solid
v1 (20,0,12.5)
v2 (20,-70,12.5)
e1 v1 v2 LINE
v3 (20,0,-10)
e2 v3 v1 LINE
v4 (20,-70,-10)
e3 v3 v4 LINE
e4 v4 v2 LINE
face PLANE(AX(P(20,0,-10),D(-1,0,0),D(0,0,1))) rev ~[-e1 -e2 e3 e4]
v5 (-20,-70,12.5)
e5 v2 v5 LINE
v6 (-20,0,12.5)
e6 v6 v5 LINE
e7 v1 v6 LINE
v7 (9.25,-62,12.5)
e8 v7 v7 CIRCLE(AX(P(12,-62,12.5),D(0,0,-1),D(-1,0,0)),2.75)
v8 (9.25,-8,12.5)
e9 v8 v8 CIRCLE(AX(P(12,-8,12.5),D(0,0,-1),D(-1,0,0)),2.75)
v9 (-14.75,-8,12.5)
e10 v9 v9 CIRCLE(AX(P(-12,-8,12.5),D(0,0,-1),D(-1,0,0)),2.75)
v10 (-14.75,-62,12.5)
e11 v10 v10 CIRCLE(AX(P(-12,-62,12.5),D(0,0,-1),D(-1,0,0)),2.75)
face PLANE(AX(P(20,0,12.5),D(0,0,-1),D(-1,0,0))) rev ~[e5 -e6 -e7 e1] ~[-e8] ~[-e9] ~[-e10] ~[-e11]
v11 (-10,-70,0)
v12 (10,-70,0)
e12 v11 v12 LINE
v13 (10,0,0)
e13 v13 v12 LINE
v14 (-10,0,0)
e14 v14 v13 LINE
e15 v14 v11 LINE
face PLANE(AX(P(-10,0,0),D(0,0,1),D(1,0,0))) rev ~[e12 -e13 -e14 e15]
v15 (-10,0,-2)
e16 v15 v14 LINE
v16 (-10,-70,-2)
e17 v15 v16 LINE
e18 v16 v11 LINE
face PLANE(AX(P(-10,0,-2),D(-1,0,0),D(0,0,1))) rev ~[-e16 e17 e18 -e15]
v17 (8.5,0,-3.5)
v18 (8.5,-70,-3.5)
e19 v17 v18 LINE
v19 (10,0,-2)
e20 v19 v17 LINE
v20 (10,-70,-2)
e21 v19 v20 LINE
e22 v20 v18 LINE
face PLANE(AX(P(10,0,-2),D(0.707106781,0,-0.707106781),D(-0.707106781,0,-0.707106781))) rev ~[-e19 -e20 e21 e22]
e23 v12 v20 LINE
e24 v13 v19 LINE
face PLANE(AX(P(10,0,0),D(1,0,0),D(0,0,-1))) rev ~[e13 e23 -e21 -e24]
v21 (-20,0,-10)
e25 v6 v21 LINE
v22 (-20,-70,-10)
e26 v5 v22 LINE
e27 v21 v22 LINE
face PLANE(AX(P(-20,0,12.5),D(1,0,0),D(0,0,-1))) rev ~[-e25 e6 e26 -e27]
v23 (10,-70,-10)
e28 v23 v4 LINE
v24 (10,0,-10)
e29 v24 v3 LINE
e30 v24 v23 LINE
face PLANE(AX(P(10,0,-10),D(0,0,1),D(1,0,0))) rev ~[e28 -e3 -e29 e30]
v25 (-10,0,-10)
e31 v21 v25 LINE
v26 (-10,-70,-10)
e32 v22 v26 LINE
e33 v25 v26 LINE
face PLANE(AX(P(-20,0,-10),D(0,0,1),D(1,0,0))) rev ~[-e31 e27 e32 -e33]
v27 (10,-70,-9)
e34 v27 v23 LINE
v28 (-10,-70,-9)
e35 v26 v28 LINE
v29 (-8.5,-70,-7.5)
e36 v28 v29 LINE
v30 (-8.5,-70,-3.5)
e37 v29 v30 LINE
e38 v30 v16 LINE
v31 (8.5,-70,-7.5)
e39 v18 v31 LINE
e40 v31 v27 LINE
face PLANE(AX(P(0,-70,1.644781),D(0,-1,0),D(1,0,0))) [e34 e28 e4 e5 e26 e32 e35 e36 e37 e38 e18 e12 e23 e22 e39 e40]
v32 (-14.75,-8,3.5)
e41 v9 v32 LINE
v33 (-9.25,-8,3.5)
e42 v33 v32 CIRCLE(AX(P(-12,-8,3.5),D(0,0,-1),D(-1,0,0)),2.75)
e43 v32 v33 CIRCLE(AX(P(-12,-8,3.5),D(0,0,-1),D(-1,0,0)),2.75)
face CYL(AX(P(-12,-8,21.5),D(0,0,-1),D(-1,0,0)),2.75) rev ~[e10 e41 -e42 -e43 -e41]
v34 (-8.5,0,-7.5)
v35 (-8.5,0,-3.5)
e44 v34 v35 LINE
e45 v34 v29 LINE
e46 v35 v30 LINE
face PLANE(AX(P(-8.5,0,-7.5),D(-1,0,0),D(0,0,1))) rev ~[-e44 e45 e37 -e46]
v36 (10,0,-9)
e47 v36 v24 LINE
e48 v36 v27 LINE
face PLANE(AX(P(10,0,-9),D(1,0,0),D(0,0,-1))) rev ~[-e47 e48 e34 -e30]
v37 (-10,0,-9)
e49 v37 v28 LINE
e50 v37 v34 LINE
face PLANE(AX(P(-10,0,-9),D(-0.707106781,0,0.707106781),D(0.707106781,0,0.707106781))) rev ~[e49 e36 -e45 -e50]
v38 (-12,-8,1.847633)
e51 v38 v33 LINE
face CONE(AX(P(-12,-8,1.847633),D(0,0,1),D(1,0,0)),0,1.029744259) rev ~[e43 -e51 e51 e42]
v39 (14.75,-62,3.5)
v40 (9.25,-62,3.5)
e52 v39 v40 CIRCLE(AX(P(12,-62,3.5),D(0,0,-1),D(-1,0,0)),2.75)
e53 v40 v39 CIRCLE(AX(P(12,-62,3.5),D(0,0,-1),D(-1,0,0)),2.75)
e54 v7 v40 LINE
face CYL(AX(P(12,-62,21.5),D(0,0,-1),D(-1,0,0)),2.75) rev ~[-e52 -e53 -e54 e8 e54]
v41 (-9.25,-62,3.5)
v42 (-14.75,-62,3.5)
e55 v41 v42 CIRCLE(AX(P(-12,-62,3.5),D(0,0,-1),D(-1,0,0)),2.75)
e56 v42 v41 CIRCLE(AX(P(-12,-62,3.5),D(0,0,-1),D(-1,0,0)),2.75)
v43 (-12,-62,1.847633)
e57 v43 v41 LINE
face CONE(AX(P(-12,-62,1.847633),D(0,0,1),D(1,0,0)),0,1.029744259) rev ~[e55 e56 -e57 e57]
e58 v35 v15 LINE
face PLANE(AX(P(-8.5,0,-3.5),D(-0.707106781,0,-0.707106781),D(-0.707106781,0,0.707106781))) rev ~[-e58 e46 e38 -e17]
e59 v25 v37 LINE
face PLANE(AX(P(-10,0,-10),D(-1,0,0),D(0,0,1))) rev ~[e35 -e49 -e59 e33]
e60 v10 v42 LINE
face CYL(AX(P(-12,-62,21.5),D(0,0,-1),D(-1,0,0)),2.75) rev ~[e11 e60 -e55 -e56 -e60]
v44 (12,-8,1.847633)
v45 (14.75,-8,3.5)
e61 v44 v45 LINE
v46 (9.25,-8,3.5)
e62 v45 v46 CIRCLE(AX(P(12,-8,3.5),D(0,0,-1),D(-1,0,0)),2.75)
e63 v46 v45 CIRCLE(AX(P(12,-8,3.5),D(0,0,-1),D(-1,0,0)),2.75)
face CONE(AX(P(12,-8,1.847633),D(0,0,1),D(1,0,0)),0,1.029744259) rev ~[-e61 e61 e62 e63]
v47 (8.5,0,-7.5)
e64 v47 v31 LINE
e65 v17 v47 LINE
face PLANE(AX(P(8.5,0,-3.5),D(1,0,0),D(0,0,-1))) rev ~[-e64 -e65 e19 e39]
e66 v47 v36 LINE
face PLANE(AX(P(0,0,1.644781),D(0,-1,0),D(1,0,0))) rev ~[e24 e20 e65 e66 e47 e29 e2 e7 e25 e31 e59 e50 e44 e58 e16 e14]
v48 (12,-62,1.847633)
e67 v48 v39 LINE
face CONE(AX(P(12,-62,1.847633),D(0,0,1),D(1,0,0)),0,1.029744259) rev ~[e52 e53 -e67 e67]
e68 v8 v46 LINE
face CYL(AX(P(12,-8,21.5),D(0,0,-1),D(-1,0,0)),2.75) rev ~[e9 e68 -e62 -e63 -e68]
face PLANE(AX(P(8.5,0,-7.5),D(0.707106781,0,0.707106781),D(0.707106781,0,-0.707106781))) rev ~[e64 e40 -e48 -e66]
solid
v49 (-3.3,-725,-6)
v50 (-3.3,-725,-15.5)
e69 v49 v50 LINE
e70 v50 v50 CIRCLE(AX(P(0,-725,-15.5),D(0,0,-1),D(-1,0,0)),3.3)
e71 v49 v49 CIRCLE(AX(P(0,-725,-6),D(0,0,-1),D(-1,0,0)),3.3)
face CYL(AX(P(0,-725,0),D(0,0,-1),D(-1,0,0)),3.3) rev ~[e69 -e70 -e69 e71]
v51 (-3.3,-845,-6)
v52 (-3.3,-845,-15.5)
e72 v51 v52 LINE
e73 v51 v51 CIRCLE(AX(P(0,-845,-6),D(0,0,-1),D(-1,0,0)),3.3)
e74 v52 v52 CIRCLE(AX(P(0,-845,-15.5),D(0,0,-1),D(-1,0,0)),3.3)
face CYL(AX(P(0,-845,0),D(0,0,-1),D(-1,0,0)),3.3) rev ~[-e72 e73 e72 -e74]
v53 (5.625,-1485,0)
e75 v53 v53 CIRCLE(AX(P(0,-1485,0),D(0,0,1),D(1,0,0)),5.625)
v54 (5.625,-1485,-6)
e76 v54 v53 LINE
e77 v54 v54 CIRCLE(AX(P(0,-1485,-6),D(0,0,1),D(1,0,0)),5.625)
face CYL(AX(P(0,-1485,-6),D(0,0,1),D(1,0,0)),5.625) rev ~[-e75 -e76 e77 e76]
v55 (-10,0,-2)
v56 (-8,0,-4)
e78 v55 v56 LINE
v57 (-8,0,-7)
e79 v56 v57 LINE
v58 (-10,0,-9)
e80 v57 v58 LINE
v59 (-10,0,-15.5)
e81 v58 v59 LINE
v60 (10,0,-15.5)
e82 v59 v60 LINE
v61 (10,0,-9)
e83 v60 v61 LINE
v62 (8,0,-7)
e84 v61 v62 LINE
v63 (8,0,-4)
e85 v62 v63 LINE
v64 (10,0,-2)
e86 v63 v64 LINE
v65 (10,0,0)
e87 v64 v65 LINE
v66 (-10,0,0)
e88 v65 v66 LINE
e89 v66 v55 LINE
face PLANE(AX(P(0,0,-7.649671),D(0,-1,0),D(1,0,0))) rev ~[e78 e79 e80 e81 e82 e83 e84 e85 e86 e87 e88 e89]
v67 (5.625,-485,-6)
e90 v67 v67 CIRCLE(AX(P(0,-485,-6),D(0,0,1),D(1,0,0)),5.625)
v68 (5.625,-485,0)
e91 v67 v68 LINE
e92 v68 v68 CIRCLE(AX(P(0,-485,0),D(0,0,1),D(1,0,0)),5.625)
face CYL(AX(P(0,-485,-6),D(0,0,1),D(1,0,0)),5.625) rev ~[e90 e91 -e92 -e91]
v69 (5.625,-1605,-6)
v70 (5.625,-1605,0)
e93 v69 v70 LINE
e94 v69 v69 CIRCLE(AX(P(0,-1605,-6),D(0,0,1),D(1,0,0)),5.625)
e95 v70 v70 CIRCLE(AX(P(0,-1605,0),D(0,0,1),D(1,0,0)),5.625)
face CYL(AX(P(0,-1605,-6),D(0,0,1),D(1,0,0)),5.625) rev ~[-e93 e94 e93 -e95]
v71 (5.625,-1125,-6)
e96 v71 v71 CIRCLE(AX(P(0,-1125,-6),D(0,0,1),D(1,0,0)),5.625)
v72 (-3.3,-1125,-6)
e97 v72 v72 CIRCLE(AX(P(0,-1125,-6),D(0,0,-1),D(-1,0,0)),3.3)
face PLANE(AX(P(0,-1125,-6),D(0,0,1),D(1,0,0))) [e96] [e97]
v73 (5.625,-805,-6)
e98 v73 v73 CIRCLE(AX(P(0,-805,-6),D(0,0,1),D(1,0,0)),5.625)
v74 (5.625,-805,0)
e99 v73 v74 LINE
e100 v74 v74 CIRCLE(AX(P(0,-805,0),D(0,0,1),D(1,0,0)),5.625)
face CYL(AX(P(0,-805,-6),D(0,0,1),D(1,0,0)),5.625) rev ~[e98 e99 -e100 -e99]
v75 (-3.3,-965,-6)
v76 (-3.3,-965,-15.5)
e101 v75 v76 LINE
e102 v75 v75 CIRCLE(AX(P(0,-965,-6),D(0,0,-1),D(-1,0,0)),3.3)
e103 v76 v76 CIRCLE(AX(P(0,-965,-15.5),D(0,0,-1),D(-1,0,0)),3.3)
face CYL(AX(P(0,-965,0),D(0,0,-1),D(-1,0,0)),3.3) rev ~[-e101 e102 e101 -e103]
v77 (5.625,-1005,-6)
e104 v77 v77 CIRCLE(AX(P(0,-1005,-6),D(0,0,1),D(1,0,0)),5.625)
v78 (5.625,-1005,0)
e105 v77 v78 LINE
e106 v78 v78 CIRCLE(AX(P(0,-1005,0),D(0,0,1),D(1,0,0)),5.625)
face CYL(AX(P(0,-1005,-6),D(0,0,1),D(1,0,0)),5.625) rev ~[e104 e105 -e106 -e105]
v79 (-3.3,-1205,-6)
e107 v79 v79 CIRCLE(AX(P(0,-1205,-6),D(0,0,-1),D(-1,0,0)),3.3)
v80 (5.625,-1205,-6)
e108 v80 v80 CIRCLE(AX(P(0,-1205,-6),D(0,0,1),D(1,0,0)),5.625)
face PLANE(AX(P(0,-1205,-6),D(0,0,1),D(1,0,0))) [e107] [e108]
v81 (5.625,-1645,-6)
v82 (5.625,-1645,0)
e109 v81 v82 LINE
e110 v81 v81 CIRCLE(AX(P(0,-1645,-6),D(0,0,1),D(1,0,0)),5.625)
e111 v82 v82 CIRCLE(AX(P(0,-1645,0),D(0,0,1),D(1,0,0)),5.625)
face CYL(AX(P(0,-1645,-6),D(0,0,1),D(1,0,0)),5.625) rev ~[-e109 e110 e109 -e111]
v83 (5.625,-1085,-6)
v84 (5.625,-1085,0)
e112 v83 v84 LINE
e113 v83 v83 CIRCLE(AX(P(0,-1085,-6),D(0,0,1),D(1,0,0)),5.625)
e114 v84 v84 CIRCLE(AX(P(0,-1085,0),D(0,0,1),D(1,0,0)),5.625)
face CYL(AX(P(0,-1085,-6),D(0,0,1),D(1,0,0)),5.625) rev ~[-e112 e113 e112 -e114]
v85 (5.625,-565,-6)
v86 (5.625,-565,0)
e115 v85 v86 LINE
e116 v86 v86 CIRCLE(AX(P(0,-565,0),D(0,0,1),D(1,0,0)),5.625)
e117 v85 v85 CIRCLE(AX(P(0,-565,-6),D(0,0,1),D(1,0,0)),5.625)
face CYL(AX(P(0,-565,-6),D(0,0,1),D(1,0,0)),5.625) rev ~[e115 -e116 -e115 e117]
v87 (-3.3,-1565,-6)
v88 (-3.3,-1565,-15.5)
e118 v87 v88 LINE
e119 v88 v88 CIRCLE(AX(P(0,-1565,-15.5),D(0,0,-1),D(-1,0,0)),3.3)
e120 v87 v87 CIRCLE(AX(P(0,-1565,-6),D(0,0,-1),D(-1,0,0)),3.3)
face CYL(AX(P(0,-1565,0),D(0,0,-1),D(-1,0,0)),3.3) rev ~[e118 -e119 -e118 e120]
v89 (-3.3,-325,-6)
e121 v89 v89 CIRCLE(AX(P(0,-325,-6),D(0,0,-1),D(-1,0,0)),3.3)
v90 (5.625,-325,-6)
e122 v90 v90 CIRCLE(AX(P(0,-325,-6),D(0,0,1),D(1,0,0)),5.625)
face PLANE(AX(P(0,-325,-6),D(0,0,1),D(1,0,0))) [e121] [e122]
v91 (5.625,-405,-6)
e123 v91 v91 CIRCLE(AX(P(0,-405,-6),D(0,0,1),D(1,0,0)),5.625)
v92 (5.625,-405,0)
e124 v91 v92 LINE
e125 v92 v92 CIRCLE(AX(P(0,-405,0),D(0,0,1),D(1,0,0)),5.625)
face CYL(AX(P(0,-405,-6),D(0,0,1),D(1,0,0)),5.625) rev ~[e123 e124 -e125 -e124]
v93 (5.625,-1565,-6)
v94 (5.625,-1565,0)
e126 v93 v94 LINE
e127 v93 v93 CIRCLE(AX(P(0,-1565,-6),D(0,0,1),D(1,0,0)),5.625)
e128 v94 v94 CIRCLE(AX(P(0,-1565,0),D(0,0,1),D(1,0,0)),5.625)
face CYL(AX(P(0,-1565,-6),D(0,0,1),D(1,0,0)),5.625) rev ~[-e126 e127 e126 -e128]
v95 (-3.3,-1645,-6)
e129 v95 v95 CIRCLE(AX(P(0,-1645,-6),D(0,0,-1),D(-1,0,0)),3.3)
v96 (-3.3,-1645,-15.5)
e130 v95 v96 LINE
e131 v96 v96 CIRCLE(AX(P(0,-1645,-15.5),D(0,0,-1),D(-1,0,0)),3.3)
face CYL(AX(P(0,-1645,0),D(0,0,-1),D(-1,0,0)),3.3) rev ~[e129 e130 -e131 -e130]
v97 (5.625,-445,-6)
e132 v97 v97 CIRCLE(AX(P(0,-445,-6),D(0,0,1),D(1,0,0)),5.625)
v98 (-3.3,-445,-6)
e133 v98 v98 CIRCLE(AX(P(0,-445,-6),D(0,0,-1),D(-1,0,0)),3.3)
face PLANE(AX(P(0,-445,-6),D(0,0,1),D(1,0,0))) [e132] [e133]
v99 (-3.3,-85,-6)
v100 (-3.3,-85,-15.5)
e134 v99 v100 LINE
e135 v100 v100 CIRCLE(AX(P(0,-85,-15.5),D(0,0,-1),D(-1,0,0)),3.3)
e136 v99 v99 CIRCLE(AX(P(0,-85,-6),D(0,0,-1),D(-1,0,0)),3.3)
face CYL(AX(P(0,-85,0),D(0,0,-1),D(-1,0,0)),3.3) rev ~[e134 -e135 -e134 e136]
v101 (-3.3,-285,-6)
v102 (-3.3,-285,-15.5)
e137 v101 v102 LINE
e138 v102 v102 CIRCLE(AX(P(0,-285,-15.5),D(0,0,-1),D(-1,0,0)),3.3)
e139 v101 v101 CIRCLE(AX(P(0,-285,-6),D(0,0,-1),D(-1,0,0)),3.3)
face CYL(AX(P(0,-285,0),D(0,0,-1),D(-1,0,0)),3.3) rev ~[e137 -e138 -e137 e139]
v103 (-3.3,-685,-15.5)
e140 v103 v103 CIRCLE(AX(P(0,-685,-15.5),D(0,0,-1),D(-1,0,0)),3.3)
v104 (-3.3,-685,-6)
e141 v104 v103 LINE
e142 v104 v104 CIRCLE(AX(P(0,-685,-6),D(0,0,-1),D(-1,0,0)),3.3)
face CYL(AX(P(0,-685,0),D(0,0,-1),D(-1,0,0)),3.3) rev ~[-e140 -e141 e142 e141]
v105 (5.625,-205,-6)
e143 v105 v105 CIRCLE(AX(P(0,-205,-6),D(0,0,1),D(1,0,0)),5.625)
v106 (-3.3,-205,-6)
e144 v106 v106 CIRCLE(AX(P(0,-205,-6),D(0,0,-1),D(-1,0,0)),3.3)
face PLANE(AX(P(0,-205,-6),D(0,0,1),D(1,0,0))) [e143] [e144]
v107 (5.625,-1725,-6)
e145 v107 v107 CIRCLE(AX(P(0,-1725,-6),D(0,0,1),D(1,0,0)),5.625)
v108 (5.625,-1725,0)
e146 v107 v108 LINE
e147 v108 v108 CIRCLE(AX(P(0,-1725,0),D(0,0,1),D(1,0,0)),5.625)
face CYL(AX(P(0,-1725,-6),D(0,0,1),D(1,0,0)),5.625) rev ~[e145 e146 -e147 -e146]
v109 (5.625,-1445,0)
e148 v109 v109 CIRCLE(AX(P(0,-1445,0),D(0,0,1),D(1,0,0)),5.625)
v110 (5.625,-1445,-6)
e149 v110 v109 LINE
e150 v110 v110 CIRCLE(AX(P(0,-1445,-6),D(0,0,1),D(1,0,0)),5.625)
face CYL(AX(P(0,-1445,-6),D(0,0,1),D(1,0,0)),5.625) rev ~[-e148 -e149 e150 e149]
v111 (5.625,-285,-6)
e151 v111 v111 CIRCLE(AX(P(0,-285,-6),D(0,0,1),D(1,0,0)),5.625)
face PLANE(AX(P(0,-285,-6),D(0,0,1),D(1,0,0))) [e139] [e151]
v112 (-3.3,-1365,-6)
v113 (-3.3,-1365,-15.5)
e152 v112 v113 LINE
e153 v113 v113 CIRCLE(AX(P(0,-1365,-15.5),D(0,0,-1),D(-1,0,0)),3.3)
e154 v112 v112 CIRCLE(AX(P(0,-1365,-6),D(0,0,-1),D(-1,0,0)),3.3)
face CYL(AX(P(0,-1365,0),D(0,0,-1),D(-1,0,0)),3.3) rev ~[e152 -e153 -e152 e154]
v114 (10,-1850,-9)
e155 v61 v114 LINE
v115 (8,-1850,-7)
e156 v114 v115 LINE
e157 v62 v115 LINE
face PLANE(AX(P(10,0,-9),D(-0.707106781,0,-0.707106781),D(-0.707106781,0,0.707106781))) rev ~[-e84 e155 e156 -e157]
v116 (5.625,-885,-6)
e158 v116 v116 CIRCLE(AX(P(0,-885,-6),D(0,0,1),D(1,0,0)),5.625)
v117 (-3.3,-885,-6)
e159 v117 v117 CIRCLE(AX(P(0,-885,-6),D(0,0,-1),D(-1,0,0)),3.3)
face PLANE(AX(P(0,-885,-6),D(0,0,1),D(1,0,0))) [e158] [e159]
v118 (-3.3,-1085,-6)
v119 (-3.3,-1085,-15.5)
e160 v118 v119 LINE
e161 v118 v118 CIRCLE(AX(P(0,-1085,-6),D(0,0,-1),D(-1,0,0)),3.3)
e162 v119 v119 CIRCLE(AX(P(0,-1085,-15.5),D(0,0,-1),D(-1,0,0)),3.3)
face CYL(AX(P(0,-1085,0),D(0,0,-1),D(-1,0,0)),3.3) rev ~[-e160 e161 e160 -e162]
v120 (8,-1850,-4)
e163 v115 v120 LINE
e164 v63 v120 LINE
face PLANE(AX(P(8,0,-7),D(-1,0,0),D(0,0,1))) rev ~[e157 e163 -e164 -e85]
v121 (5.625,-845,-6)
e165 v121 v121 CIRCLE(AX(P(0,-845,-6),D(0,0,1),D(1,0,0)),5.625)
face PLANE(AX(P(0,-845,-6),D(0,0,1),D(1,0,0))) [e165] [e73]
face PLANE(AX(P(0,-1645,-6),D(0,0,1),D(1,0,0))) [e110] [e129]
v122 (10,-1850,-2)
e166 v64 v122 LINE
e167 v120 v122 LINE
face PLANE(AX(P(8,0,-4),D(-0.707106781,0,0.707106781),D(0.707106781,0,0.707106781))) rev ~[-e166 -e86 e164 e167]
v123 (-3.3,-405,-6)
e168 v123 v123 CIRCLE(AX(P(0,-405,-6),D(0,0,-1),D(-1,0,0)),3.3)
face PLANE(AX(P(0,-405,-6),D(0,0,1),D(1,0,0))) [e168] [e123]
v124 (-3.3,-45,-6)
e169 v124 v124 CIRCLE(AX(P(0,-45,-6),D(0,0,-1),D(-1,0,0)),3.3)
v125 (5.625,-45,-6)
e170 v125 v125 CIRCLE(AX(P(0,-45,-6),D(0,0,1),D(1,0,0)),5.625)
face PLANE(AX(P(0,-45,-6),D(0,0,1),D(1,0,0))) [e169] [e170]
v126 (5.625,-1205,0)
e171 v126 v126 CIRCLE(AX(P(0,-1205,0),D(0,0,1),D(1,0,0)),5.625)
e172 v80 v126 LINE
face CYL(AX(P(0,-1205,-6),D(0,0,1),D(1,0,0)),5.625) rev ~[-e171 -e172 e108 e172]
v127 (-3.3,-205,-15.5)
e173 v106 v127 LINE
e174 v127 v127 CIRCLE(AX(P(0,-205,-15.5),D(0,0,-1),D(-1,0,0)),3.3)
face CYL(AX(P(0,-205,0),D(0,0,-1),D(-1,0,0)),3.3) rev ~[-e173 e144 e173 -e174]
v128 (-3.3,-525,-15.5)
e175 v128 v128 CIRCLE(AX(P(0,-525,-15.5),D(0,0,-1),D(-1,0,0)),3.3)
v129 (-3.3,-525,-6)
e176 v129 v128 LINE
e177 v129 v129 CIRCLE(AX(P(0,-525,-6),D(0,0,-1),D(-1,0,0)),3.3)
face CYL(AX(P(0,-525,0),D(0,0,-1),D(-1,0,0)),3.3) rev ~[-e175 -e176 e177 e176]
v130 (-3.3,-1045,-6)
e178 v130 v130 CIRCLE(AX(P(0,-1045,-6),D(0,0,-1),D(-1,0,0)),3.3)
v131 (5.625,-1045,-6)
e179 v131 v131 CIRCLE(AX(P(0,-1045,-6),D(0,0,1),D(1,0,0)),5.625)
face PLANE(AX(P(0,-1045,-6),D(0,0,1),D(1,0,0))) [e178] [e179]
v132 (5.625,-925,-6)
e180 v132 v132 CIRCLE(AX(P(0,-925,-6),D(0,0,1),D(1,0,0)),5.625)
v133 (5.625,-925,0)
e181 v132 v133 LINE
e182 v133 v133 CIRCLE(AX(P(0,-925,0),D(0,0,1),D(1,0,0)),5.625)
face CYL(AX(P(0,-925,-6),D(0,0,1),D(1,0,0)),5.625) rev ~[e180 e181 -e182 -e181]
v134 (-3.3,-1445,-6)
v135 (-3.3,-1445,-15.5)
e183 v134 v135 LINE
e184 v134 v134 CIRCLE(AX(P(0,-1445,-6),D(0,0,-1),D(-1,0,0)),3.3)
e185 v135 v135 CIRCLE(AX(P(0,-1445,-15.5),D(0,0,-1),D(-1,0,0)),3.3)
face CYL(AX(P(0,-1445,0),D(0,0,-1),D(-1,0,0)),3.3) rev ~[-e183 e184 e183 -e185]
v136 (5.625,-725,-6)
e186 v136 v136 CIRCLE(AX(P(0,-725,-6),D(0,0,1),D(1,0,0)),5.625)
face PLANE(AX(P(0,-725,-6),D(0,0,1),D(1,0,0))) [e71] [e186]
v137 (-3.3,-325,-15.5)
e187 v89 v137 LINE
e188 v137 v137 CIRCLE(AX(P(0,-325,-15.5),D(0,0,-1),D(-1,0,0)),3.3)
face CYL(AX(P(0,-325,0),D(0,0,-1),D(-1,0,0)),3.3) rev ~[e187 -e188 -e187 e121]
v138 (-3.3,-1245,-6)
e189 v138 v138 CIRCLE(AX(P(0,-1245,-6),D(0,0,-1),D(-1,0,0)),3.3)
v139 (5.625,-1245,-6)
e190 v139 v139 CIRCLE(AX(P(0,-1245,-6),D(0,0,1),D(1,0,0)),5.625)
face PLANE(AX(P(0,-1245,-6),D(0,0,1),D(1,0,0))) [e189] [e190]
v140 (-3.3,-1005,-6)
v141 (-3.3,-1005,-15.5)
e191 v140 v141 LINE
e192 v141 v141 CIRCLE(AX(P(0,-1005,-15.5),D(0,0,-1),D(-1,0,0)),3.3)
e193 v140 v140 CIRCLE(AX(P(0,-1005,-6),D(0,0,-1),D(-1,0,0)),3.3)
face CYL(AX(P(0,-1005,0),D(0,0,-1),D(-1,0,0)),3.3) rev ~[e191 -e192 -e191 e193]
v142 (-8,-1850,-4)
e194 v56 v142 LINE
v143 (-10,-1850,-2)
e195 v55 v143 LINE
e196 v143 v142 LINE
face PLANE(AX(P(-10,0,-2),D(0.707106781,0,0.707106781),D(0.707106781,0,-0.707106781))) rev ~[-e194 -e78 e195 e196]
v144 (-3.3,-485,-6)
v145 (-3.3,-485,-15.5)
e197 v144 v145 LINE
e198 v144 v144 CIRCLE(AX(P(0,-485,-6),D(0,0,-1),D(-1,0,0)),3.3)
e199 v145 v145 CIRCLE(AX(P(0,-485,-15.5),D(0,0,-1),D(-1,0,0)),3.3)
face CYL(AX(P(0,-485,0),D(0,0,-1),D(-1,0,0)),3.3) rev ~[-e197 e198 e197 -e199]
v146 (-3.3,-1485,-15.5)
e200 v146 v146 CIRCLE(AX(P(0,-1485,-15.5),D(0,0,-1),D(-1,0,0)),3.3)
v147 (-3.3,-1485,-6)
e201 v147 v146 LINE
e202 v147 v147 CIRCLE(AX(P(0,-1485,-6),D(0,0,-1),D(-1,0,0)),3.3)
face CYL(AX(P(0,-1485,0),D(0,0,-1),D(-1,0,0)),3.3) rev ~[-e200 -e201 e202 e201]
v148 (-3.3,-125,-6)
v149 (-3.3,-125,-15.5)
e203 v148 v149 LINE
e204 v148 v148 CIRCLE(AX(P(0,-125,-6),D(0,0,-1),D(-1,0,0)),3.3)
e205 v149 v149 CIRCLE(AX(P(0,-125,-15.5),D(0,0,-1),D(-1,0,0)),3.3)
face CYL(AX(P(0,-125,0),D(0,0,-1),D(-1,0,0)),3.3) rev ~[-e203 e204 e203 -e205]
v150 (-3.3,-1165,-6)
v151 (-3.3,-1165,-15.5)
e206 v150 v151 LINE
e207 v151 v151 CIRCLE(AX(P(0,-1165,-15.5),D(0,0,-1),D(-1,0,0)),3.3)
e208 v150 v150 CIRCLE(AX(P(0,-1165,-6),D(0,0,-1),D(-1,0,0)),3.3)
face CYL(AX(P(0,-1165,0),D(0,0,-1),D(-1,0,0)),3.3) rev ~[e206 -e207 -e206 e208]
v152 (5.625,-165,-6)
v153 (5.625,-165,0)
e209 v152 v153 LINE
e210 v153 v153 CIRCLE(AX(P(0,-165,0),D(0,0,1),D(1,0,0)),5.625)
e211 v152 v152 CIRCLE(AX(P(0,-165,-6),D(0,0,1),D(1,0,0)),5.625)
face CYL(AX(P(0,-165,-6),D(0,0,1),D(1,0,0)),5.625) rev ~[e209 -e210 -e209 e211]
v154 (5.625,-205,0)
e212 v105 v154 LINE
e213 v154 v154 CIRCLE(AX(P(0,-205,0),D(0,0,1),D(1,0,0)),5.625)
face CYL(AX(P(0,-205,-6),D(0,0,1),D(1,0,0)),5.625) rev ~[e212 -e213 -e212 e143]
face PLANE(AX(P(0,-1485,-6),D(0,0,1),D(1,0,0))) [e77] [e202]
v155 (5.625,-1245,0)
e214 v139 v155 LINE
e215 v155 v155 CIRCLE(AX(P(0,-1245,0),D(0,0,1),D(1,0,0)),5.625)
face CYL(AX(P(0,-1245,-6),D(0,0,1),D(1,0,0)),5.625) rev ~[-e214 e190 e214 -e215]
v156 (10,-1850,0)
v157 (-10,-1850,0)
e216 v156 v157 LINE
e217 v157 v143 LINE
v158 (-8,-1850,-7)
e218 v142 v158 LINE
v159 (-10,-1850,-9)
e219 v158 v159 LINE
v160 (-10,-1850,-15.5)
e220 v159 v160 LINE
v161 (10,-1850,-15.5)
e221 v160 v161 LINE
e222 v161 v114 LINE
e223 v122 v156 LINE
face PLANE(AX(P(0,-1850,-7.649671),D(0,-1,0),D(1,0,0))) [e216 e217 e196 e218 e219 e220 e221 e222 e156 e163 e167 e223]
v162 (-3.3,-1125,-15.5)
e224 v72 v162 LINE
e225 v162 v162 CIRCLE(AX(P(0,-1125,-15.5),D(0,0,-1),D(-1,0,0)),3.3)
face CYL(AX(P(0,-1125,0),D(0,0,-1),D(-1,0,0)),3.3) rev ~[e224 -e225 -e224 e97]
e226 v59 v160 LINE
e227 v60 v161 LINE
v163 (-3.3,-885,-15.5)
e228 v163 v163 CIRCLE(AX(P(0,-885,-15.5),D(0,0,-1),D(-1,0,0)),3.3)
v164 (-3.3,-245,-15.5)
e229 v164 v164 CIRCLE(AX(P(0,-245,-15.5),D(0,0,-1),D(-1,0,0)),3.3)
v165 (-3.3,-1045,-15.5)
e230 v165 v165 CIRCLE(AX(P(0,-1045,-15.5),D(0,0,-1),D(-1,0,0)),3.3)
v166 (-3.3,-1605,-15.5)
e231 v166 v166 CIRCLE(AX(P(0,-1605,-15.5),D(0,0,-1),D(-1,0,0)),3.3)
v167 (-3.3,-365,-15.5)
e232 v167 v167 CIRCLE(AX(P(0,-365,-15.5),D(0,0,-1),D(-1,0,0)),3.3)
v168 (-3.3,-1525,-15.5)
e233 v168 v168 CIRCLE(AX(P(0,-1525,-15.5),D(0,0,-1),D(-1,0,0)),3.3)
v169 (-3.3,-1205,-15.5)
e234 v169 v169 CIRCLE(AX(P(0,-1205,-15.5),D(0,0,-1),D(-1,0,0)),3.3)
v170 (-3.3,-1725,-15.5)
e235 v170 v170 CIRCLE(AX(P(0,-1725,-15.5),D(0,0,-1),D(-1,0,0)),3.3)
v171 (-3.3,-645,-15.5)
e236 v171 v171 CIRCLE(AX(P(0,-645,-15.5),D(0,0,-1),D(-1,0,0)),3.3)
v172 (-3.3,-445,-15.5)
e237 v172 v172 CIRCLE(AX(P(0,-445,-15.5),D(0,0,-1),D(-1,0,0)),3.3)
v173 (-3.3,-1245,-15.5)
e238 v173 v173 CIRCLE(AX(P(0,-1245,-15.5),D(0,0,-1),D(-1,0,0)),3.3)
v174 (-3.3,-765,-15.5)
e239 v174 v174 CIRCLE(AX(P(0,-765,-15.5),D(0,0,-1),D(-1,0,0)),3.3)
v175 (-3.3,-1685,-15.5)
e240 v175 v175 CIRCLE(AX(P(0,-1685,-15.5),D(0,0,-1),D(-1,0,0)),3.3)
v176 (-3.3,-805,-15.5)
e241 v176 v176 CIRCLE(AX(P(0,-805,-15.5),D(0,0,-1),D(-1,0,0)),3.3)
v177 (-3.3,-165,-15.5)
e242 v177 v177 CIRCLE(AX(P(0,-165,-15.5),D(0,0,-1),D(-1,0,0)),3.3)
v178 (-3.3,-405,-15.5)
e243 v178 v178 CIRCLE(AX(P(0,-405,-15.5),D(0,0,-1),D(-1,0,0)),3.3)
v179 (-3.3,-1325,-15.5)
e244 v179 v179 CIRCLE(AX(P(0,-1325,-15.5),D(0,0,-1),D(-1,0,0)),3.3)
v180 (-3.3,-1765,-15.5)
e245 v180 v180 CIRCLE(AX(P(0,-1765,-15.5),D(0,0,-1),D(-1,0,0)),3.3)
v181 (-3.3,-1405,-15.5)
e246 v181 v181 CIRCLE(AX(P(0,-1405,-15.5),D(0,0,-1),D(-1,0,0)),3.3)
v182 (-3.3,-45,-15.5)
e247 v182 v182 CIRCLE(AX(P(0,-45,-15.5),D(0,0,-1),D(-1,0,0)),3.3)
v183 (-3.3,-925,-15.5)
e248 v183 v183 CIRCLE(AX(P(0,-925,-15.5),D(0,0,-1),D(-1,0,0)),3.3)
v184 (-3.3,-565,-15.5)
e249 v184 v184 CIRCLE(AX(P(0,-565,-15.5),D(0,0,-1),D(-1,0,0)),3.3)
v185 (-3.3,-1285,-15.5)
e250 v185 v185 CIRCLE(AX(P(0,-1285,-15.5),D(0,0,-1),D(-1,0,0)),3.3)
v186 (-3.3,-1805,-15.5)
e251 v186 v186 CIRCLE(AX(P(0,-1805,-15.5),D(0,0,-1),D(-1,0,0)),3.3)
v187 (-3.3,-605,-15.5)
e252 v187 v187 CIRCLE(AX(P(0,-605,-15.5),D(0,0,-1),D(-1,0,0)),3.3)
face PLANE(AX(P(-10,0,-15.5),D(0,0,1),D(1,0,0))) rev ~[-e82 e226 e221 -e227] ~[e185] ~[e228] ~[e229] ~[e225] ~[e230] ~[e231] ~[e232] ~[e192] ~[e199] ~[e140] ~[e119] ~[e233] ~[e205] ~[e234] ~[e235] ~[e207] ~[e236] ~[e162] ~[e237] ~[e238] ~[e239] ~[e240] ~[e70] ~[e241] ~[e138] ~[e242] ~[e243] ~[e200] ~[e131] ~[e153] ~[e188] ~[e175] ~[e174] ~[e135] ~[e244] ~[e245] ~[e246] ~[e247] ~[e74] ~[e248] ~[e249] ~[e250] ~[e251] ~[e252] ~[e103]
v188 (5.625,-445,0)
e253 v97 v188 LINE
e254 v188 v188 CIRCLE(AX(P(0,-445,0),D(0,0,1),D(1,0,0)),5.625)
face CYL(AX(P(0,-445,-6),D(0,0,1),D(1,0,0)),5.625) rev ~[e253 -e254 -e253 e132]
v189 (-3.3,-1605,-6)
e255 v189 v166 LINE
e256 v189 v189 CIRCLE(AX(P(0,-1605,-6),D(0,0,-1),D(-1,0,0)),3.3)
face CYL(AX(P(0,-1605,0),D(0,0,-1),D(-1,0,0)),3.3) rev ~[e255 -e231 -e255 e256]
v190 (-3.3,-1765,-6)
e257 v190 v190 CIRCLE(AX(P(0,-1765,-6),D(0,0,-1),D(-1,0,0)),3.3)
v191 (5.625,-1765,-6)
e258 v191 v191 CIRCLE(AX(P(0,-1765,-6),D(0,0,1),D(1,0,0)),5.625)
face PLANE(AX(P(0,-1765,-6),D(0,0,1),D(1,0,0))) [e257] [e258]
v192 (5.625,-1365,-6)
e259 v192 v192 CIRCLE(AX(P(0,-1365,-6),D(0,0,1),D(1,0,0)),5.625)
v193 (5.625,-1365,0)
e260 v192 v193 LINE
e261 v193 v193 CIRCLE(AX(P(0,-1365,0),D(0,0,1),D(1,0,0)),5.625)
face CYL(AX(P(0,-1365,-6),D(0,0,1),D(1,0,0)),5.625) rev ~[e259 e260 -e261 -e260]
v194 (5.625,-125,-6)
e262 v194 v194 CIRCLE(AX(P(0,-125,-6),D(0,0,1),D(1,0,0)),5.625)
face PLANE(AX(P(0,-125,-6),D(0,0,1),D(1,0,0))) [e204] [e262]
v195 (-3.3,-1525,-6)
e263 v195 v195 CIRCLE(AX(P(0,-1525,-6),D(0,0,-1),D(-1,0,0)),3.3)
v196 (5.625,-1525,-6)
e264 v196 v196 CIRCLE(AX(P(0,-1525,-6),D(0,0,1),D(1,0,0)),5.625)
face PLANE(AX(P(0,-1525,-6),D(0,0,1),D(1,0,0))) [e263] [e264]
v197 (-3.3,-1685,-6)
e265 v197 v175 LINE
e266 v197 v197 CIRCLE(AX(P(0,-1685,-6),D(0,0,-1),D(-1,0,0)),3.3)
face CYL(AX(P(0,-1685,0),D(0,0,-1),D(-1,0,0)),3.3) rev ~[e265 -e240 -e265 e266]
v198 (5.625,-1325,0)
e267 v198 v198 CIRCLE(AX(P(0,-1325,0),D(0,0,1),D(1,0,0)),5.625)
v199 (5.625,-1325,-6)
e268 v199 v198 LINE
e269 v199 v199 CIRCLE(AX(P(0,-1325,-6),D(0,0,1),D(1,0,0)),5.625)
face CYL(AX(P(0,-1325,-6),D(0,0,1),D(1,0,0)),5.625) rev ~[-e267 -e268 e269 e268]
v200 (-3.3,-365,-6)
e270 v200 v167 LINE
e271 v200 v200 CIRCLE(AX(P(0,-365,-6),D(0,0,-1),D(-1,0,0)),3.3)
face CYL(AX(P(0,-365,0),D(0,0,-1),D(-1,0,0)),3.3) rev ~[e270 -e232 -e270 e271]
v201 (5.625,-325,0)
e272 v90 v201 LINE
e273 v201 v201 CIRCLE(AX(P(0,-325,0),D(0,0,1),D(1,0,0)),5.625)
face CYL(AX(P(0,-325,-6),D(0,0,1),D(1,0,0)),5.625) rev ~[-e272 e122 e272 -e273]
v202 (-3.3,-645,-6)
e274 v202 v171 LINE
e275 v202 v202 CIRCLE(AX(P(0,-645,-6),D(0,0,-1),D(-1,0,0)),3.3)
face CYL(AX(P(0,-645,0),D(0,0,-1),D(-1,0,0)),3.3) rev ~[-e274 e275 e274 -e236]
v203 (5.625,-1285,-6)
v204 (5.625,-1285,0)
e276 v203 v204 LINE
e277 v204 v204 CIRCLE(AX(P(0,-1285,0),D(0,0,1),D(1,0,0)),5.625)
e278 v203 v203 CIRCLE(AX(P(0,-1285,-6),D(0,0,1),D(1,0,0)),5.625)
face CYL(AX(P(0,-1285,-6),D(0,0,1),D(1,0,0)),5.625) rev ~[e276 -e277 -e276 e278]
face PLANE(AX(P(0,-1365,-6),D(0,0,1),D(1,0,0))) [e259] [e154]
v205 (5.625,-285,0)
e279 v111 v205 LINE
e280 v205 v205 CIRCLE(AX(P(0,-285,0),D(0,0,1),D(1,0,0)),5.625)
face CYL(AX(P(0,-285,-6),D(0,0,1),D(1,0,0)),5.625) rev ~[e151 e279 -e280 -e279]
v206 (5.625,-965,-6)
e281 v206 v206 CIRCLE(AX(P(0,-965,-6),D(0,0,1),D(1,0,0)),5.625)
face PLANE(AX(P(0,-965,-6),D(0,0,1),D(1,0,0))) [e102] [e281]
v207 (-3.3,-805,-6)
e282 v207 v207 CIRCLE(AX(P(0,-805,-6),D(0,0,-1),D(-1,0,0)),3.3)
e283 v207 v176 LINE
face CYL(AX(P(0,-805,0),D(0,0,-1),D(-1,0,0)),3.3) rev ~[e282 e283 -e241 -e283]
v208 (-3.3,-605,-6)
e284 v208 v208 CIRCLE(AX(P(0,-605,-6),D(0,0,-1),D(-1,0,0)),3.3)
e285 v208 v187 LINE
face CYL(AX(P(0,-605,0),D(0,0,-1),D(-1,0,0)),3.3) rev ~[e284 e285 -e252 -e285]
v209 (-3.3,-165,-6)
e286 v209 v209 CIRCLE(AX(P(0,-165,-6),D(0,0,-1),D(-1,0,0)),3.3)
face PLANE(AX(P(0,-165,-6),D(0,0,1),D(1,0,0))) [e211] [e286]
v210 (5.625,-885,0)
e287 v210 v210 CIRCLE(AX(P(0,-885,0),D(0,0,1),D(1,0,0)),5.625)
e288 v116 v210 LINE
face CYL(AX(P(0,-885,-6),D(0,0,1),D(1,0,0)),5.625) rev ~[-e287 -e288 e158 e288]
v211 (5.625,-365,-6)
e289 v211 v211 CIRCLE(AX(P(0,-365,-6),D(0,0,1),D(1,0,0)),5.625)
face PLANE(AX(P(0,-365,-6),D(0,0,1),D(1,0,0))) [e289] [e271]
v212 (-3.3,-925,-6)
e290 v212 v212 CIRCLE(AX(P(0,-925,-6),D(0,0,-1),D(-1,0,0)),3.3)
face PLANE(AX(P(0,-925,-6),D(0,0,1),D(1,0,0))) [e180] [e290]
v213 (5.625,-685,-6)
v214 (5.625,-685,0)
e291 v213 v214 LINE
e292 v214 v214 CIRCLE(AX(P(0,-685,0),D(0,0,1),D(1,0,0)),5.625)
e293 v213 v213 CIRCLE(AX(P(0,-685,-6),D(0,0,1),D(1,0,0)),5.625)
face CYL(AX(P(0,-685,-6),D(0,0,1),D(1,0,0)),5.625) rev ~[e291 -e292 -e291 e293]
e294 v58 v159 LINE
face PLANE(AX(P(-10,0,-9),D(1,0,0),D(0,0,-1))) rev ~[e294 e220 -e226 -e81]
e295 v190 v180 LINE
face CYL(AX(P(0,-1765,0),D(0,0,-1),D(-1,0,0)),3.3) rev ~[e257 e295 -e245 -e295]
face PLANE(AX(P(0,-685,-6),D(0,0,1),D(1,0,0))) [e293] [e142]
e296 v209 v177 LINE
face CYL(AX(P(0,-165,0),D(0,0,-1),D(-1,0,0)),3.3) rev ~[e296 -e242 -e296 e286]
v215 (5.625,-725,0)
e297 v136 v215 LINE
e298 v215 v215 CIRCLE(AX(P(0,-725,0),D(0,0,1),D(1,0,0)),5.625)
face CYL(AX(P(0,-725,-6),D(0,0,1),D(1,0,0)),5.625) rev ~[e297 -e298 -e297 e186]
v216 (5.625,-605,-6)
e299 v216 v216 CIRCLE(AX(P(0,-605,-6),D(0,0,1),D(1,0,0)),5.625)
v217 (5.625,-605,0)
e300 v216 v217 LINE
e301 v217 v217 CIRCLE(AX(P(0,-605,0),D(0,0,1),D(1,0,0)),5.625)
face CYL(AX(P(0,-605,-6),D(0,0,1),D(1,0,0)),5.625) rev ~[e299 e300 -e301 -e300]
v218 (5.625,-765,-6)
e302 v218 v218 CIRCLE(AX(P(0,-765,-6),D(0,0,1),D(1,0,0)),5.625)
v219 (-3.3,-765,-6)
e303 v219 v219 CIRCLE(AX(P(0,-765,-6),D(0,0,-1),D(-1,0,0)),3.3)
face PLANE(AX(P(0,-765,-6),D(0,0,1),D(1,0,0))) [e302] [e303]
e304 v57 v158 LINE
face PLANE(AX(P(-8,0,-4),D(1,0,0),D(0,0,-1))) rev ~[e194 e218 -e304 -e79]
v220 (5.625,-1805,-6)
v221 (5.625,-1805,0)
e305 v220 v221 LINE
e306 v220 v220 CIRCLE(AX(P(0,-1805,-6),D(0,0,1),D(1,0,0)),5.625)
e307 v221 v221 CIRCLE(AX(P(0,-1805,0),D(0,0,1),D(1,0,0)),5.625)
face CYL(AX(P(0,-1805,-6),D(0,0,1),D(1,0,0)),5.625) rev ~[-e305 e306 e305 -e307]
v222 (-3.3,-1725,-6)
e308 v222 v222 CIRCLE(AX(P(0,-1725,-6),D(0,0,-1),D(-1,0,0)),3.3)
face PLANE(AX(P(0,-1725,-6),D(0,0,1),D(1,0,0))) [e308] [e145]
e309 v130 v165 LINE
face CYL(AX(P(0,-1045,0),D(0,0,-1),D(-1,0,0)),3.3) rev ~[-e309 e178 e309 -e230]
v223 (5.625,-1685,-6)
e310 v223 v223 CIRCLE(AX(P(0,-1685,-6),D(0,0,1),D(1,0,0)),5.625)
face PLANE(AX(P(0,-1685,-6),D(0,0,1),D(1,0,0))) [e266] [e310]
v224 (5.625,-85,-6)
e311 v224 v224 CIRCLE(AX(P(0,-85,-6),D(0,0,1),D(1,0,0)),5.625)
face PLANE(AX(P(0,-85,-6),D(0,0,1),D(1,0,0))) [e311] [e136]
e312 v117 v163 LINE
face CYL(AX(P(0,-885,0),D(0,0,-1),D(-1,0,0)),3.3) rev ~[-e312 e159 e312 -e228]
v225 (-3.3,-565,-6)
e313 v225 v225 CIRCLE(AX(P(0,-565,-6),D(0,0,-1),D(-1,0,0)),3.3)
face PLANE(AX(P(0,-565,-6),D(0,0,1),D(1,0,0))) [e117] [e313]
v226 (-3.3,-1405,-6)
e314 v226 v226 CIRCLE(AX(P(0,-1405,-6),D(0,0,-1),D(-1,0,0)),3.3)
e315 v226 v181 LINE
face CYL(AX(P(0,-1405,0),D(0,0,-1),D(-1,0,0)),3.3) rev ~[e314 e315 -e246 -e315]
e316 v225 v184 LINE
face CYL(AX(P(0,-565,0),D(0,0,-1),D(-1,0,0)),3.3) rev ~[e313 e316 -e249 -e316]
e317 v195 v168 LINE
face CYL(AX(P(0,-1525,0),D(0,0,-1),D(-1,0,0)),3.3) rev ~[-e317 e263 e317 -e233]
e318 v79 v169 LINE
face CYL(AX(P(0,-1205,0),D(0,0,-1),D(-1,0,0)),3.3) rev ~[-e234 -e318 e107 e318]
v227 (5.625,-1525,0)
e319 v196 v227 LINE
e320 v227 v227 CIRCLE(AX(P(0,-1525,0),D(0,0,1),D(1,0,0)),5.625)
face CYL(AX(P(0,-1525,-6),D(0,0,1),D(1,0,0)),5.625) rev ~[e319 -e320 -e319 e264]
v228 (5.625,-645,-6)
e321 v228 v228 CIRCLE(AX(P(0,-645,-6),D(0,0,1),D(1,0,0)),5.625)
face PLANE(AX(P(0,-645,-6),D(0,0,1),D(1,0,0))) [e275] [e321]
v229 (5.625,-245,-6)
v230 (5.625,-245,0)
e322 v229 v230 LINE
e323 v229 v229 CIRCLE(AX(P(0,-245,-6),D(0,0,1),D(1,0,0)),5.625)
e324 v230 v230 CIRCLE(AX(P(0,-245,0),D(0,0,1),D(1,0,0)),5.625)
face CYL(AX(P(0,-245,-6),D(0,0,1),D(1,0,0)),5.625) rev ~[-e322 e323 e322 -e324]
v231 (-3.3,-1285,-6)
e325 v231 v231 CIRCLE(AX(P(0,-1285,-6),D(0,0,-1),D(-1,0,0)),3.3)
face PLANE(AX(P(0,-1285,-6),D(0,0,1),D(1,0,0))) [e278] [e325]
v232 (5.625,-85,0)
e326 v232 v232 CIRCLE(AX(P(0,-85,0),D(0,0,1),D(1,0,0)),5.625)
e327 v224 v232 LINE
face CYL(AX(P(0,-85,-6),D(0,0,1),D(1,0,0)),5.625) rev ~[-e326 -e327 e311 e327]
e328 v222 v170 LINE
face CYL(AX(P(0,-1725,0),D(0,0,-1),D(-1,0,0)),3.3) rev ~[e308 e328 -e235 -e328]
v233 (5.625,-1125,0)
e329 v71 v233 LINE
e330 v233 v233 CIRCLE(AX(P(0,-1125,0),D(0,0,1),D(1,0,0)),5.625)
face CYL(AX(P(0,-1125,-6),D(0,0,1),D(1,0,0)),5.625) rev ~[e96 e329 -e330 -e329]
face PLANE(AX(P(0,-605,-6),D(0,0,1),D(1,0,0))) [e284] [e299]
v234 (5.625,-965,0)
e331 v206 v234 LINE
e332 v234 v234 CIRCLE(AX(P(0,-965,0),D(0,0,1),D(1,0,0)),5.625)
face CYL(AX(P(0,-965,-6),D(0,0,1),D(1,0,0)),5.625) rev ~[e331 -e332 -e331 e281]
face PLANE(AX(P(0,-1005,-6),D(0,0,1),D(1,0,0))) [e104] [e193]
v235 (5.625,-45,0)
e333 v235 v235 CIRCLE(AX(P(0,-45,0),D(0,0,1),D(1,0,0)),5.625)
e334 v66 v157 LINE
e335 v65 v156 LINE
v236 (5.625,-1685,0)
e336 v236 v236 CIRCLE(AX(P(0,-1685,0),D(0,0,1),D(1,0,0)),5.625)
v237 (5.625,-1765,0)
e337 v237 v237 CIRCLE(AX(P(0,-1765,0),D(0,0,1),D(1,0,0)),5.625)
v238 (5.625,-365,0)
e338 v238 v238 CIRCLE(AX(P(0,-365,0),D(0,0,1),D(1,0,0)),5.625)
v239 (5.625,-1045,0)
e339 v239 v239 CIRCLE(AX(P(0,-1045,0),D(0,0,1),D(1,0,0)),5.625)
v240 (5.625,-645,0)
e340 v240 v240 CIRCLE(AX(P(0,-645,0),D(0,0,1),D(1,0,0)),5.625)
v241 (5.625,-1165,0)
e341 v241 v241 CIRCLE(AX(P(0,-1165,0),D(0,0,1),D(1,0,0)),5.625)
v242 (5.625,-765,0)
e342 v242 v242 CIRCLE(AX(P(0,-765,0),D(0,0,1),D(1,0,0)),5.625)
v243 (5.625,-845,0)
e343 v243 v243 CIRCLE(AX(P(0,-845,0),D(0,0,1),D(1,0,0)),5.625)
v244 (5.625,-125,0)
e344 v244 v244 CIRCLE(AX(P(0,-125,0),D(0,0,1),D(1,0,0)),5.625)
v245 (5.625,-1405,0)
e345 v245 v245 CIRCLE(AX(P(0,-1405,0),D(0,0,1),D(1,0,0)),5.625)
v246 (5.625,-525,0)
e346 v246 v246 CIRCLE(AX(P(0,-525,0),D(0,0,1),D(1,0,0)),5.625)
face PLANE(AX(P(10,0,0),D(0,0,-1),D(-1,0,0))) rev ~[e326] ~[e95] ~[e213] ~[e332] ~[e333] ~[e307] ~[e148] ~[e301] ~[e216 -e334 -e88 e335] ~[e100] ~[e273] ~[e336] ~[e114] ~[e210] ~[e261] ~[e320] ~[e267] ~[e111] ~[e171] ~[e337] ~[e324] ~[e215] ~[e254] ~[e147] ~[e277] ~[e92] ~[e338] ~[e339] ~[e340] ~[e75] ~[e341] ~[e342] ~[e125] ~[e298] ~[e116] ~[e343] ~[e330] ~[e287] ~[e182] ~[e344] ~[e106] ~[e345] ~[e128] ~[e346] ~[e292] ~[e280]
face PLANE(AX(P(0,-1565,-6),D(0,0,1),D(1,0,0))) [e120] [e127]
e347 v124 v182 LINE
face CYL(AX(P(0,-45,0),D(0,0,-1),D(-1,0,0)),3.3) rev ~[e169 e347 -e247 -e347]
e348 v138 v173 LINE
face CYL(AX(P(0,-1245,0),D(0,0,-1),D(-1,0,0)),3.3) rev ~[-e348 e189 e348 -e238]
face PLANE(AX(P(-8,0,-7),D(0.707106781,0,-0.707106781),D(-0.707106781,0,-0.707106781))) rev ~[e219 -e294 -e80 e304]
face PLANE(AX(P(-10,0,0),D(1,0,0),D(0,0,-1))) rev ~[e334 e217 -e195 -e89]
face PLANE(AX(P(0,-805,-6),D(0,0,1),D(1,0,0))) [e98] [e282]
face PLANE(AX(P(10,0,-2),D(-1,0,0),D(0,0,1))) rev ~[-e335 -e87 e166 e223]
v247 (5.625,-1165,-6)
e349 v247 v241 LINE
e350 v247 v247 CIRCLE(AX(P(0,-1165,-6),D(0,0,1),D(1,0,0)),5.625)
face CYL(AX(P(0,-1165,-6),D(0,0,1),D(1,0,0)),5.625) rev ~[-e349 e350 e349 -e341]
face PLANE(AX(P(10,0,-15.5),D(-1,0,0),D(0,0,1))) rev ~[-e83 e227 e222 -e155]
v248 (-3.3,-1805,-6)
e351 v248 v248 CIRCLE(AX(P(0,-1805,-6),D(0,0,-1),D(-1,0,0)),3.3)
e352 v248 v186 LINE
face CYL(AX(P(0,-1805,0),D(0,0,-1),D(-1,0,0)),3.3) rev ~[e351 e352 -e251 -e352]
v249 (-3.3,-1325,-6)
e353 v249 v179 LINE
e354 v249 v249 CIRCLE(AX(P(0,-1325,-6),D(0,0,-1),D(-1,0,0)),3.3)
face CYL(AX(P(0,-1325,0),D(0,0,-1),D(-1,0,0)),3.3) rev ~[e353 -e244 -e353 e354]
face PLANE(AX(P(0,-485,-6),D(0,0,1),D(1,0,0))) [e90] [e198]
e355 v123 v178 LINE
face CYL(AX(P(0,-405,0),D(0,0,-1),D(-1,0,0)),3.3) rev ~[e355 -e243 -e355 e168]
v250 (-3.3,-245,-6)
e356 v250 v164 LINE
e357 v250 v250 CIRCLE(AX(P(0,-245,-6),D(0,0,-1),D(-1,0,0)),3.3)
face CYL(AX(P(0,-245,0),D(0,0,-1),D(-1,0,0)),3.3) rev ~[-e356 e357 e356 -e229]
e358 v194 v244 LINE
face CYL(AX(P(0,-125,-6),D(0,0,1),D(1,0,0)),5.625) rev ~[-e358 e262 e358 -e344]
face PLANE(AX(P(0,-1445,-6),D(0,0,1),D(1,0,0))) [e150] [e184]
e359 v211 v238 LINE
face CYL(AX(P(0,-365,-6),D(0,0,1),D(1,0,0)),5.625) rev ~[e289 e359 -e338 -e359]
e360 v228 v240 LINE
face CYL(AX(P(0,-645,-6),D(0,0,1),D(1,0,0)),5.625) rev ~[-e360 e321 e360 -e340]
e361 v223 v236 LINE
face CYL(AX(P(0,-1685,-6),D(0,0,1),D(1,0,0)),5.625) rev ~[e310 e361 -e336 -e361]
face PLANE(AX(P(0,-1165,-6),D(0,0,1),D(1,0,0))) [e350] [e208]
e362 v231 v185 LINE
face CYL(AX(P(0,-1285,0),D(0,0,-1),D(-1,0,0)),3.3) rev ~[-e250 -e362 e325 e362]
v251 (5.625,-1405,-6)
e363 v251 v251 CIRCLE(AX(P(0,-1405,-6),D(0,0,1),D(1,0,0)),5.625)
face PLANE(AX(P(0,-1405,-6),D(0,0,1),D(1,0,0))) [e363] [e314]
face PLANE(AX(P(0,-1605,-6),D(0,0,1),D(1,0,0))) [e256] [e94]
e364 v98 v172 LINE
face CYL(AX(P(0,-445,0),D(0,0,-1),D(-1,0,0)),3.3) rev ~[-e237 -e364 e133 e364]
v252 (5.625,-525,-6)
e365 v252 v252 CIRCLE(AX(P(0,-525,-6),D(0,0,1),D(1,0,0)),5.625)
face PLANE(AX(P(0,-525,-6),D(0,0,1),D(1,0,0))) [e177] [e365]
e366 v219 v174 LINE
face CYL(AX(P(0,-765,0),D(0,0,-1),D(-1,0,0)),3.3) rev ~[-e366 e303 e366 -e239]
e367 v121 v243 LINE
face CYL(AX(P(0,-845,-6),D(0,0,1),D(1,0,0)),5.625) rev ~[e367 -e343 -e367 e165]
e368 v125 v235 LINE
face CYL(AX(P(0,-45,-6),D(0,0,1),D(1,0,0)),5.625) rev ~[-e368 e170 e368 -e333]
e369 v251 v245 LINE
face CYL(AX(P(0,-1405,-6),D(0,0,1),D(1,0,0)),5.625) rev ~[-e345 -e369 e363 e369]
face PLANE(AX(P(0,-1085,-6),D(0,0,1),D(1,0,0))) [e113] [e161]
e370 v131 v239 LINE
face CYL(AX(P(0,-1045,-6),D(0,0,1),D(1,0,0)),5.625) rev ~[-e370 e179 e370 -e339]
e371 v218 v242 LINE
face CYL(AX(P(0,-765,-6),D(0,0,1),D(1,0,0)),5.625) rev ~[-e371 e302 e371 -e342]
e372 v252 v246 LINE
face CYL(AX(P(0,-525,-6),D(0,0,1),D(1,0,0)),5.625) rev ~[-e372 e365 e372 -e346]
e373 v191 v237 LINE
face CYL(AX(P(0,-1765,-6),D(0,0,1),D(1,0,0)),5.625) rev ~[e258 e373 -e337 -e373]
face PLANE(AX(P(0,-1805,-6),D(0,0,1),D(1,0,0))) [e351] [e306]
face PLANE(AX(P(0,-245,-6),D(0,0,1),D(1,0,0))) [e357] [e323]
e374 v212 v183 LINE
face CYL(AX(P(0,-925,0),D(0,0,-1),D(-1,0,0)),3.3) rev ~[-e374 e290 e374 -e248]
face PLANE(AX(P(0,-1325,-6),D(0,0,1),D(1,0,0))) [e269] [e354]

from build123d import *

# Parameters (mm, degrees)
F1_DEPTH       = 1850
F3_D           = 6.6
F3_CBORE_D     = 11.25
F3_CBORE_DEPTH = 6
F4_DEPTH       = 70
F6_D           = 5.5
F6_DEPTH       = 9
F6_TIP         = 1.6523667023


with BuildPart() as f1:
    # F0 (on Front) → F1 (new body)
    with BuildSketch(Plane.XZ):
        Polygon((10, 0), (0, 0), (-10, 0), (-10, -2), (-8.5, -3.5), (-8, -4), (-8, -7), (-8.5, -7.5), (-10, -9), (-10, -10), (-10, -15.5), (0, -15.5), (10, -15.5), (10, -10), (10, -9), (8.5, -7.5), (8, -7), (8, -4), (8.5, -3.5), (10, -2), align=None)
    extrude(amount=F1_DEPTH)

    # F3 (through all)
    with Locations(Plane.XY):
        with Locations((0, -1805), (0, -1765), (0, -1725), (0, -1685), (0, -1645), (0, -1605), (0, -1565), (0, -1525), (0, -1485), (0, -1445), (0, -1405), (0, -1365), (0, -1325), (0, -1285), (0, -1245), (0, -1205), (0, -1165), (0, -1125), (0, -1085), (0, -1045), (0, -1005), (0, -965), (0, -925), (0, -885), (0, -845), (0, -805), (0, -765), (0, -725), (0, -685), (0, -645), (0, -605), (0, -565), (0, -525), (0, -485), (0, -445), (0, -405), (0, -365), (0, -325), (0, -285), (0, -245), (0, -205), (0, -165), (0, -125), (0, -85), (0, -45)):
            CounterBoreHole(F3_D / 2, F3_CBORE_D / 2, F3_CBORE_DEPTH)


with BuildPart() as f4:
    # F0 (on Front) → F4 (new body)
    with BuildSketch(Plane.XZ):
        Polygon((-10, 0), (0, 0), (10, 0), (10, -2), (8.5, -3.5), (8.5, -7.5), (10, -9), (10, -10), (20, -10), (20, 12.5), (-20, 12.5), (-20, -10), (-10, -10), (-10, -9), (-8.5, -7.5), (-8.5, -3.5), (-10, -2), align=None)
    extrude(amount=F4_DEPTH)

    # F6
    with Locations(Plane.XY.offset(12.5)):
        with Locations((-12, -8), (12, -8), (12, -62), (-12, -62)):
            Hole(F6_D / 2, depth=F6_DEPTH)
            with Locations((0, 0, -(F6_DEPTH + F6_TIP / 2))):  # 118° drill point
                Cone(0, F6_D / 2, F6_TIP, mode=Mode.SUBTRACT)


solid = Compound([f1.part, f4.part])
